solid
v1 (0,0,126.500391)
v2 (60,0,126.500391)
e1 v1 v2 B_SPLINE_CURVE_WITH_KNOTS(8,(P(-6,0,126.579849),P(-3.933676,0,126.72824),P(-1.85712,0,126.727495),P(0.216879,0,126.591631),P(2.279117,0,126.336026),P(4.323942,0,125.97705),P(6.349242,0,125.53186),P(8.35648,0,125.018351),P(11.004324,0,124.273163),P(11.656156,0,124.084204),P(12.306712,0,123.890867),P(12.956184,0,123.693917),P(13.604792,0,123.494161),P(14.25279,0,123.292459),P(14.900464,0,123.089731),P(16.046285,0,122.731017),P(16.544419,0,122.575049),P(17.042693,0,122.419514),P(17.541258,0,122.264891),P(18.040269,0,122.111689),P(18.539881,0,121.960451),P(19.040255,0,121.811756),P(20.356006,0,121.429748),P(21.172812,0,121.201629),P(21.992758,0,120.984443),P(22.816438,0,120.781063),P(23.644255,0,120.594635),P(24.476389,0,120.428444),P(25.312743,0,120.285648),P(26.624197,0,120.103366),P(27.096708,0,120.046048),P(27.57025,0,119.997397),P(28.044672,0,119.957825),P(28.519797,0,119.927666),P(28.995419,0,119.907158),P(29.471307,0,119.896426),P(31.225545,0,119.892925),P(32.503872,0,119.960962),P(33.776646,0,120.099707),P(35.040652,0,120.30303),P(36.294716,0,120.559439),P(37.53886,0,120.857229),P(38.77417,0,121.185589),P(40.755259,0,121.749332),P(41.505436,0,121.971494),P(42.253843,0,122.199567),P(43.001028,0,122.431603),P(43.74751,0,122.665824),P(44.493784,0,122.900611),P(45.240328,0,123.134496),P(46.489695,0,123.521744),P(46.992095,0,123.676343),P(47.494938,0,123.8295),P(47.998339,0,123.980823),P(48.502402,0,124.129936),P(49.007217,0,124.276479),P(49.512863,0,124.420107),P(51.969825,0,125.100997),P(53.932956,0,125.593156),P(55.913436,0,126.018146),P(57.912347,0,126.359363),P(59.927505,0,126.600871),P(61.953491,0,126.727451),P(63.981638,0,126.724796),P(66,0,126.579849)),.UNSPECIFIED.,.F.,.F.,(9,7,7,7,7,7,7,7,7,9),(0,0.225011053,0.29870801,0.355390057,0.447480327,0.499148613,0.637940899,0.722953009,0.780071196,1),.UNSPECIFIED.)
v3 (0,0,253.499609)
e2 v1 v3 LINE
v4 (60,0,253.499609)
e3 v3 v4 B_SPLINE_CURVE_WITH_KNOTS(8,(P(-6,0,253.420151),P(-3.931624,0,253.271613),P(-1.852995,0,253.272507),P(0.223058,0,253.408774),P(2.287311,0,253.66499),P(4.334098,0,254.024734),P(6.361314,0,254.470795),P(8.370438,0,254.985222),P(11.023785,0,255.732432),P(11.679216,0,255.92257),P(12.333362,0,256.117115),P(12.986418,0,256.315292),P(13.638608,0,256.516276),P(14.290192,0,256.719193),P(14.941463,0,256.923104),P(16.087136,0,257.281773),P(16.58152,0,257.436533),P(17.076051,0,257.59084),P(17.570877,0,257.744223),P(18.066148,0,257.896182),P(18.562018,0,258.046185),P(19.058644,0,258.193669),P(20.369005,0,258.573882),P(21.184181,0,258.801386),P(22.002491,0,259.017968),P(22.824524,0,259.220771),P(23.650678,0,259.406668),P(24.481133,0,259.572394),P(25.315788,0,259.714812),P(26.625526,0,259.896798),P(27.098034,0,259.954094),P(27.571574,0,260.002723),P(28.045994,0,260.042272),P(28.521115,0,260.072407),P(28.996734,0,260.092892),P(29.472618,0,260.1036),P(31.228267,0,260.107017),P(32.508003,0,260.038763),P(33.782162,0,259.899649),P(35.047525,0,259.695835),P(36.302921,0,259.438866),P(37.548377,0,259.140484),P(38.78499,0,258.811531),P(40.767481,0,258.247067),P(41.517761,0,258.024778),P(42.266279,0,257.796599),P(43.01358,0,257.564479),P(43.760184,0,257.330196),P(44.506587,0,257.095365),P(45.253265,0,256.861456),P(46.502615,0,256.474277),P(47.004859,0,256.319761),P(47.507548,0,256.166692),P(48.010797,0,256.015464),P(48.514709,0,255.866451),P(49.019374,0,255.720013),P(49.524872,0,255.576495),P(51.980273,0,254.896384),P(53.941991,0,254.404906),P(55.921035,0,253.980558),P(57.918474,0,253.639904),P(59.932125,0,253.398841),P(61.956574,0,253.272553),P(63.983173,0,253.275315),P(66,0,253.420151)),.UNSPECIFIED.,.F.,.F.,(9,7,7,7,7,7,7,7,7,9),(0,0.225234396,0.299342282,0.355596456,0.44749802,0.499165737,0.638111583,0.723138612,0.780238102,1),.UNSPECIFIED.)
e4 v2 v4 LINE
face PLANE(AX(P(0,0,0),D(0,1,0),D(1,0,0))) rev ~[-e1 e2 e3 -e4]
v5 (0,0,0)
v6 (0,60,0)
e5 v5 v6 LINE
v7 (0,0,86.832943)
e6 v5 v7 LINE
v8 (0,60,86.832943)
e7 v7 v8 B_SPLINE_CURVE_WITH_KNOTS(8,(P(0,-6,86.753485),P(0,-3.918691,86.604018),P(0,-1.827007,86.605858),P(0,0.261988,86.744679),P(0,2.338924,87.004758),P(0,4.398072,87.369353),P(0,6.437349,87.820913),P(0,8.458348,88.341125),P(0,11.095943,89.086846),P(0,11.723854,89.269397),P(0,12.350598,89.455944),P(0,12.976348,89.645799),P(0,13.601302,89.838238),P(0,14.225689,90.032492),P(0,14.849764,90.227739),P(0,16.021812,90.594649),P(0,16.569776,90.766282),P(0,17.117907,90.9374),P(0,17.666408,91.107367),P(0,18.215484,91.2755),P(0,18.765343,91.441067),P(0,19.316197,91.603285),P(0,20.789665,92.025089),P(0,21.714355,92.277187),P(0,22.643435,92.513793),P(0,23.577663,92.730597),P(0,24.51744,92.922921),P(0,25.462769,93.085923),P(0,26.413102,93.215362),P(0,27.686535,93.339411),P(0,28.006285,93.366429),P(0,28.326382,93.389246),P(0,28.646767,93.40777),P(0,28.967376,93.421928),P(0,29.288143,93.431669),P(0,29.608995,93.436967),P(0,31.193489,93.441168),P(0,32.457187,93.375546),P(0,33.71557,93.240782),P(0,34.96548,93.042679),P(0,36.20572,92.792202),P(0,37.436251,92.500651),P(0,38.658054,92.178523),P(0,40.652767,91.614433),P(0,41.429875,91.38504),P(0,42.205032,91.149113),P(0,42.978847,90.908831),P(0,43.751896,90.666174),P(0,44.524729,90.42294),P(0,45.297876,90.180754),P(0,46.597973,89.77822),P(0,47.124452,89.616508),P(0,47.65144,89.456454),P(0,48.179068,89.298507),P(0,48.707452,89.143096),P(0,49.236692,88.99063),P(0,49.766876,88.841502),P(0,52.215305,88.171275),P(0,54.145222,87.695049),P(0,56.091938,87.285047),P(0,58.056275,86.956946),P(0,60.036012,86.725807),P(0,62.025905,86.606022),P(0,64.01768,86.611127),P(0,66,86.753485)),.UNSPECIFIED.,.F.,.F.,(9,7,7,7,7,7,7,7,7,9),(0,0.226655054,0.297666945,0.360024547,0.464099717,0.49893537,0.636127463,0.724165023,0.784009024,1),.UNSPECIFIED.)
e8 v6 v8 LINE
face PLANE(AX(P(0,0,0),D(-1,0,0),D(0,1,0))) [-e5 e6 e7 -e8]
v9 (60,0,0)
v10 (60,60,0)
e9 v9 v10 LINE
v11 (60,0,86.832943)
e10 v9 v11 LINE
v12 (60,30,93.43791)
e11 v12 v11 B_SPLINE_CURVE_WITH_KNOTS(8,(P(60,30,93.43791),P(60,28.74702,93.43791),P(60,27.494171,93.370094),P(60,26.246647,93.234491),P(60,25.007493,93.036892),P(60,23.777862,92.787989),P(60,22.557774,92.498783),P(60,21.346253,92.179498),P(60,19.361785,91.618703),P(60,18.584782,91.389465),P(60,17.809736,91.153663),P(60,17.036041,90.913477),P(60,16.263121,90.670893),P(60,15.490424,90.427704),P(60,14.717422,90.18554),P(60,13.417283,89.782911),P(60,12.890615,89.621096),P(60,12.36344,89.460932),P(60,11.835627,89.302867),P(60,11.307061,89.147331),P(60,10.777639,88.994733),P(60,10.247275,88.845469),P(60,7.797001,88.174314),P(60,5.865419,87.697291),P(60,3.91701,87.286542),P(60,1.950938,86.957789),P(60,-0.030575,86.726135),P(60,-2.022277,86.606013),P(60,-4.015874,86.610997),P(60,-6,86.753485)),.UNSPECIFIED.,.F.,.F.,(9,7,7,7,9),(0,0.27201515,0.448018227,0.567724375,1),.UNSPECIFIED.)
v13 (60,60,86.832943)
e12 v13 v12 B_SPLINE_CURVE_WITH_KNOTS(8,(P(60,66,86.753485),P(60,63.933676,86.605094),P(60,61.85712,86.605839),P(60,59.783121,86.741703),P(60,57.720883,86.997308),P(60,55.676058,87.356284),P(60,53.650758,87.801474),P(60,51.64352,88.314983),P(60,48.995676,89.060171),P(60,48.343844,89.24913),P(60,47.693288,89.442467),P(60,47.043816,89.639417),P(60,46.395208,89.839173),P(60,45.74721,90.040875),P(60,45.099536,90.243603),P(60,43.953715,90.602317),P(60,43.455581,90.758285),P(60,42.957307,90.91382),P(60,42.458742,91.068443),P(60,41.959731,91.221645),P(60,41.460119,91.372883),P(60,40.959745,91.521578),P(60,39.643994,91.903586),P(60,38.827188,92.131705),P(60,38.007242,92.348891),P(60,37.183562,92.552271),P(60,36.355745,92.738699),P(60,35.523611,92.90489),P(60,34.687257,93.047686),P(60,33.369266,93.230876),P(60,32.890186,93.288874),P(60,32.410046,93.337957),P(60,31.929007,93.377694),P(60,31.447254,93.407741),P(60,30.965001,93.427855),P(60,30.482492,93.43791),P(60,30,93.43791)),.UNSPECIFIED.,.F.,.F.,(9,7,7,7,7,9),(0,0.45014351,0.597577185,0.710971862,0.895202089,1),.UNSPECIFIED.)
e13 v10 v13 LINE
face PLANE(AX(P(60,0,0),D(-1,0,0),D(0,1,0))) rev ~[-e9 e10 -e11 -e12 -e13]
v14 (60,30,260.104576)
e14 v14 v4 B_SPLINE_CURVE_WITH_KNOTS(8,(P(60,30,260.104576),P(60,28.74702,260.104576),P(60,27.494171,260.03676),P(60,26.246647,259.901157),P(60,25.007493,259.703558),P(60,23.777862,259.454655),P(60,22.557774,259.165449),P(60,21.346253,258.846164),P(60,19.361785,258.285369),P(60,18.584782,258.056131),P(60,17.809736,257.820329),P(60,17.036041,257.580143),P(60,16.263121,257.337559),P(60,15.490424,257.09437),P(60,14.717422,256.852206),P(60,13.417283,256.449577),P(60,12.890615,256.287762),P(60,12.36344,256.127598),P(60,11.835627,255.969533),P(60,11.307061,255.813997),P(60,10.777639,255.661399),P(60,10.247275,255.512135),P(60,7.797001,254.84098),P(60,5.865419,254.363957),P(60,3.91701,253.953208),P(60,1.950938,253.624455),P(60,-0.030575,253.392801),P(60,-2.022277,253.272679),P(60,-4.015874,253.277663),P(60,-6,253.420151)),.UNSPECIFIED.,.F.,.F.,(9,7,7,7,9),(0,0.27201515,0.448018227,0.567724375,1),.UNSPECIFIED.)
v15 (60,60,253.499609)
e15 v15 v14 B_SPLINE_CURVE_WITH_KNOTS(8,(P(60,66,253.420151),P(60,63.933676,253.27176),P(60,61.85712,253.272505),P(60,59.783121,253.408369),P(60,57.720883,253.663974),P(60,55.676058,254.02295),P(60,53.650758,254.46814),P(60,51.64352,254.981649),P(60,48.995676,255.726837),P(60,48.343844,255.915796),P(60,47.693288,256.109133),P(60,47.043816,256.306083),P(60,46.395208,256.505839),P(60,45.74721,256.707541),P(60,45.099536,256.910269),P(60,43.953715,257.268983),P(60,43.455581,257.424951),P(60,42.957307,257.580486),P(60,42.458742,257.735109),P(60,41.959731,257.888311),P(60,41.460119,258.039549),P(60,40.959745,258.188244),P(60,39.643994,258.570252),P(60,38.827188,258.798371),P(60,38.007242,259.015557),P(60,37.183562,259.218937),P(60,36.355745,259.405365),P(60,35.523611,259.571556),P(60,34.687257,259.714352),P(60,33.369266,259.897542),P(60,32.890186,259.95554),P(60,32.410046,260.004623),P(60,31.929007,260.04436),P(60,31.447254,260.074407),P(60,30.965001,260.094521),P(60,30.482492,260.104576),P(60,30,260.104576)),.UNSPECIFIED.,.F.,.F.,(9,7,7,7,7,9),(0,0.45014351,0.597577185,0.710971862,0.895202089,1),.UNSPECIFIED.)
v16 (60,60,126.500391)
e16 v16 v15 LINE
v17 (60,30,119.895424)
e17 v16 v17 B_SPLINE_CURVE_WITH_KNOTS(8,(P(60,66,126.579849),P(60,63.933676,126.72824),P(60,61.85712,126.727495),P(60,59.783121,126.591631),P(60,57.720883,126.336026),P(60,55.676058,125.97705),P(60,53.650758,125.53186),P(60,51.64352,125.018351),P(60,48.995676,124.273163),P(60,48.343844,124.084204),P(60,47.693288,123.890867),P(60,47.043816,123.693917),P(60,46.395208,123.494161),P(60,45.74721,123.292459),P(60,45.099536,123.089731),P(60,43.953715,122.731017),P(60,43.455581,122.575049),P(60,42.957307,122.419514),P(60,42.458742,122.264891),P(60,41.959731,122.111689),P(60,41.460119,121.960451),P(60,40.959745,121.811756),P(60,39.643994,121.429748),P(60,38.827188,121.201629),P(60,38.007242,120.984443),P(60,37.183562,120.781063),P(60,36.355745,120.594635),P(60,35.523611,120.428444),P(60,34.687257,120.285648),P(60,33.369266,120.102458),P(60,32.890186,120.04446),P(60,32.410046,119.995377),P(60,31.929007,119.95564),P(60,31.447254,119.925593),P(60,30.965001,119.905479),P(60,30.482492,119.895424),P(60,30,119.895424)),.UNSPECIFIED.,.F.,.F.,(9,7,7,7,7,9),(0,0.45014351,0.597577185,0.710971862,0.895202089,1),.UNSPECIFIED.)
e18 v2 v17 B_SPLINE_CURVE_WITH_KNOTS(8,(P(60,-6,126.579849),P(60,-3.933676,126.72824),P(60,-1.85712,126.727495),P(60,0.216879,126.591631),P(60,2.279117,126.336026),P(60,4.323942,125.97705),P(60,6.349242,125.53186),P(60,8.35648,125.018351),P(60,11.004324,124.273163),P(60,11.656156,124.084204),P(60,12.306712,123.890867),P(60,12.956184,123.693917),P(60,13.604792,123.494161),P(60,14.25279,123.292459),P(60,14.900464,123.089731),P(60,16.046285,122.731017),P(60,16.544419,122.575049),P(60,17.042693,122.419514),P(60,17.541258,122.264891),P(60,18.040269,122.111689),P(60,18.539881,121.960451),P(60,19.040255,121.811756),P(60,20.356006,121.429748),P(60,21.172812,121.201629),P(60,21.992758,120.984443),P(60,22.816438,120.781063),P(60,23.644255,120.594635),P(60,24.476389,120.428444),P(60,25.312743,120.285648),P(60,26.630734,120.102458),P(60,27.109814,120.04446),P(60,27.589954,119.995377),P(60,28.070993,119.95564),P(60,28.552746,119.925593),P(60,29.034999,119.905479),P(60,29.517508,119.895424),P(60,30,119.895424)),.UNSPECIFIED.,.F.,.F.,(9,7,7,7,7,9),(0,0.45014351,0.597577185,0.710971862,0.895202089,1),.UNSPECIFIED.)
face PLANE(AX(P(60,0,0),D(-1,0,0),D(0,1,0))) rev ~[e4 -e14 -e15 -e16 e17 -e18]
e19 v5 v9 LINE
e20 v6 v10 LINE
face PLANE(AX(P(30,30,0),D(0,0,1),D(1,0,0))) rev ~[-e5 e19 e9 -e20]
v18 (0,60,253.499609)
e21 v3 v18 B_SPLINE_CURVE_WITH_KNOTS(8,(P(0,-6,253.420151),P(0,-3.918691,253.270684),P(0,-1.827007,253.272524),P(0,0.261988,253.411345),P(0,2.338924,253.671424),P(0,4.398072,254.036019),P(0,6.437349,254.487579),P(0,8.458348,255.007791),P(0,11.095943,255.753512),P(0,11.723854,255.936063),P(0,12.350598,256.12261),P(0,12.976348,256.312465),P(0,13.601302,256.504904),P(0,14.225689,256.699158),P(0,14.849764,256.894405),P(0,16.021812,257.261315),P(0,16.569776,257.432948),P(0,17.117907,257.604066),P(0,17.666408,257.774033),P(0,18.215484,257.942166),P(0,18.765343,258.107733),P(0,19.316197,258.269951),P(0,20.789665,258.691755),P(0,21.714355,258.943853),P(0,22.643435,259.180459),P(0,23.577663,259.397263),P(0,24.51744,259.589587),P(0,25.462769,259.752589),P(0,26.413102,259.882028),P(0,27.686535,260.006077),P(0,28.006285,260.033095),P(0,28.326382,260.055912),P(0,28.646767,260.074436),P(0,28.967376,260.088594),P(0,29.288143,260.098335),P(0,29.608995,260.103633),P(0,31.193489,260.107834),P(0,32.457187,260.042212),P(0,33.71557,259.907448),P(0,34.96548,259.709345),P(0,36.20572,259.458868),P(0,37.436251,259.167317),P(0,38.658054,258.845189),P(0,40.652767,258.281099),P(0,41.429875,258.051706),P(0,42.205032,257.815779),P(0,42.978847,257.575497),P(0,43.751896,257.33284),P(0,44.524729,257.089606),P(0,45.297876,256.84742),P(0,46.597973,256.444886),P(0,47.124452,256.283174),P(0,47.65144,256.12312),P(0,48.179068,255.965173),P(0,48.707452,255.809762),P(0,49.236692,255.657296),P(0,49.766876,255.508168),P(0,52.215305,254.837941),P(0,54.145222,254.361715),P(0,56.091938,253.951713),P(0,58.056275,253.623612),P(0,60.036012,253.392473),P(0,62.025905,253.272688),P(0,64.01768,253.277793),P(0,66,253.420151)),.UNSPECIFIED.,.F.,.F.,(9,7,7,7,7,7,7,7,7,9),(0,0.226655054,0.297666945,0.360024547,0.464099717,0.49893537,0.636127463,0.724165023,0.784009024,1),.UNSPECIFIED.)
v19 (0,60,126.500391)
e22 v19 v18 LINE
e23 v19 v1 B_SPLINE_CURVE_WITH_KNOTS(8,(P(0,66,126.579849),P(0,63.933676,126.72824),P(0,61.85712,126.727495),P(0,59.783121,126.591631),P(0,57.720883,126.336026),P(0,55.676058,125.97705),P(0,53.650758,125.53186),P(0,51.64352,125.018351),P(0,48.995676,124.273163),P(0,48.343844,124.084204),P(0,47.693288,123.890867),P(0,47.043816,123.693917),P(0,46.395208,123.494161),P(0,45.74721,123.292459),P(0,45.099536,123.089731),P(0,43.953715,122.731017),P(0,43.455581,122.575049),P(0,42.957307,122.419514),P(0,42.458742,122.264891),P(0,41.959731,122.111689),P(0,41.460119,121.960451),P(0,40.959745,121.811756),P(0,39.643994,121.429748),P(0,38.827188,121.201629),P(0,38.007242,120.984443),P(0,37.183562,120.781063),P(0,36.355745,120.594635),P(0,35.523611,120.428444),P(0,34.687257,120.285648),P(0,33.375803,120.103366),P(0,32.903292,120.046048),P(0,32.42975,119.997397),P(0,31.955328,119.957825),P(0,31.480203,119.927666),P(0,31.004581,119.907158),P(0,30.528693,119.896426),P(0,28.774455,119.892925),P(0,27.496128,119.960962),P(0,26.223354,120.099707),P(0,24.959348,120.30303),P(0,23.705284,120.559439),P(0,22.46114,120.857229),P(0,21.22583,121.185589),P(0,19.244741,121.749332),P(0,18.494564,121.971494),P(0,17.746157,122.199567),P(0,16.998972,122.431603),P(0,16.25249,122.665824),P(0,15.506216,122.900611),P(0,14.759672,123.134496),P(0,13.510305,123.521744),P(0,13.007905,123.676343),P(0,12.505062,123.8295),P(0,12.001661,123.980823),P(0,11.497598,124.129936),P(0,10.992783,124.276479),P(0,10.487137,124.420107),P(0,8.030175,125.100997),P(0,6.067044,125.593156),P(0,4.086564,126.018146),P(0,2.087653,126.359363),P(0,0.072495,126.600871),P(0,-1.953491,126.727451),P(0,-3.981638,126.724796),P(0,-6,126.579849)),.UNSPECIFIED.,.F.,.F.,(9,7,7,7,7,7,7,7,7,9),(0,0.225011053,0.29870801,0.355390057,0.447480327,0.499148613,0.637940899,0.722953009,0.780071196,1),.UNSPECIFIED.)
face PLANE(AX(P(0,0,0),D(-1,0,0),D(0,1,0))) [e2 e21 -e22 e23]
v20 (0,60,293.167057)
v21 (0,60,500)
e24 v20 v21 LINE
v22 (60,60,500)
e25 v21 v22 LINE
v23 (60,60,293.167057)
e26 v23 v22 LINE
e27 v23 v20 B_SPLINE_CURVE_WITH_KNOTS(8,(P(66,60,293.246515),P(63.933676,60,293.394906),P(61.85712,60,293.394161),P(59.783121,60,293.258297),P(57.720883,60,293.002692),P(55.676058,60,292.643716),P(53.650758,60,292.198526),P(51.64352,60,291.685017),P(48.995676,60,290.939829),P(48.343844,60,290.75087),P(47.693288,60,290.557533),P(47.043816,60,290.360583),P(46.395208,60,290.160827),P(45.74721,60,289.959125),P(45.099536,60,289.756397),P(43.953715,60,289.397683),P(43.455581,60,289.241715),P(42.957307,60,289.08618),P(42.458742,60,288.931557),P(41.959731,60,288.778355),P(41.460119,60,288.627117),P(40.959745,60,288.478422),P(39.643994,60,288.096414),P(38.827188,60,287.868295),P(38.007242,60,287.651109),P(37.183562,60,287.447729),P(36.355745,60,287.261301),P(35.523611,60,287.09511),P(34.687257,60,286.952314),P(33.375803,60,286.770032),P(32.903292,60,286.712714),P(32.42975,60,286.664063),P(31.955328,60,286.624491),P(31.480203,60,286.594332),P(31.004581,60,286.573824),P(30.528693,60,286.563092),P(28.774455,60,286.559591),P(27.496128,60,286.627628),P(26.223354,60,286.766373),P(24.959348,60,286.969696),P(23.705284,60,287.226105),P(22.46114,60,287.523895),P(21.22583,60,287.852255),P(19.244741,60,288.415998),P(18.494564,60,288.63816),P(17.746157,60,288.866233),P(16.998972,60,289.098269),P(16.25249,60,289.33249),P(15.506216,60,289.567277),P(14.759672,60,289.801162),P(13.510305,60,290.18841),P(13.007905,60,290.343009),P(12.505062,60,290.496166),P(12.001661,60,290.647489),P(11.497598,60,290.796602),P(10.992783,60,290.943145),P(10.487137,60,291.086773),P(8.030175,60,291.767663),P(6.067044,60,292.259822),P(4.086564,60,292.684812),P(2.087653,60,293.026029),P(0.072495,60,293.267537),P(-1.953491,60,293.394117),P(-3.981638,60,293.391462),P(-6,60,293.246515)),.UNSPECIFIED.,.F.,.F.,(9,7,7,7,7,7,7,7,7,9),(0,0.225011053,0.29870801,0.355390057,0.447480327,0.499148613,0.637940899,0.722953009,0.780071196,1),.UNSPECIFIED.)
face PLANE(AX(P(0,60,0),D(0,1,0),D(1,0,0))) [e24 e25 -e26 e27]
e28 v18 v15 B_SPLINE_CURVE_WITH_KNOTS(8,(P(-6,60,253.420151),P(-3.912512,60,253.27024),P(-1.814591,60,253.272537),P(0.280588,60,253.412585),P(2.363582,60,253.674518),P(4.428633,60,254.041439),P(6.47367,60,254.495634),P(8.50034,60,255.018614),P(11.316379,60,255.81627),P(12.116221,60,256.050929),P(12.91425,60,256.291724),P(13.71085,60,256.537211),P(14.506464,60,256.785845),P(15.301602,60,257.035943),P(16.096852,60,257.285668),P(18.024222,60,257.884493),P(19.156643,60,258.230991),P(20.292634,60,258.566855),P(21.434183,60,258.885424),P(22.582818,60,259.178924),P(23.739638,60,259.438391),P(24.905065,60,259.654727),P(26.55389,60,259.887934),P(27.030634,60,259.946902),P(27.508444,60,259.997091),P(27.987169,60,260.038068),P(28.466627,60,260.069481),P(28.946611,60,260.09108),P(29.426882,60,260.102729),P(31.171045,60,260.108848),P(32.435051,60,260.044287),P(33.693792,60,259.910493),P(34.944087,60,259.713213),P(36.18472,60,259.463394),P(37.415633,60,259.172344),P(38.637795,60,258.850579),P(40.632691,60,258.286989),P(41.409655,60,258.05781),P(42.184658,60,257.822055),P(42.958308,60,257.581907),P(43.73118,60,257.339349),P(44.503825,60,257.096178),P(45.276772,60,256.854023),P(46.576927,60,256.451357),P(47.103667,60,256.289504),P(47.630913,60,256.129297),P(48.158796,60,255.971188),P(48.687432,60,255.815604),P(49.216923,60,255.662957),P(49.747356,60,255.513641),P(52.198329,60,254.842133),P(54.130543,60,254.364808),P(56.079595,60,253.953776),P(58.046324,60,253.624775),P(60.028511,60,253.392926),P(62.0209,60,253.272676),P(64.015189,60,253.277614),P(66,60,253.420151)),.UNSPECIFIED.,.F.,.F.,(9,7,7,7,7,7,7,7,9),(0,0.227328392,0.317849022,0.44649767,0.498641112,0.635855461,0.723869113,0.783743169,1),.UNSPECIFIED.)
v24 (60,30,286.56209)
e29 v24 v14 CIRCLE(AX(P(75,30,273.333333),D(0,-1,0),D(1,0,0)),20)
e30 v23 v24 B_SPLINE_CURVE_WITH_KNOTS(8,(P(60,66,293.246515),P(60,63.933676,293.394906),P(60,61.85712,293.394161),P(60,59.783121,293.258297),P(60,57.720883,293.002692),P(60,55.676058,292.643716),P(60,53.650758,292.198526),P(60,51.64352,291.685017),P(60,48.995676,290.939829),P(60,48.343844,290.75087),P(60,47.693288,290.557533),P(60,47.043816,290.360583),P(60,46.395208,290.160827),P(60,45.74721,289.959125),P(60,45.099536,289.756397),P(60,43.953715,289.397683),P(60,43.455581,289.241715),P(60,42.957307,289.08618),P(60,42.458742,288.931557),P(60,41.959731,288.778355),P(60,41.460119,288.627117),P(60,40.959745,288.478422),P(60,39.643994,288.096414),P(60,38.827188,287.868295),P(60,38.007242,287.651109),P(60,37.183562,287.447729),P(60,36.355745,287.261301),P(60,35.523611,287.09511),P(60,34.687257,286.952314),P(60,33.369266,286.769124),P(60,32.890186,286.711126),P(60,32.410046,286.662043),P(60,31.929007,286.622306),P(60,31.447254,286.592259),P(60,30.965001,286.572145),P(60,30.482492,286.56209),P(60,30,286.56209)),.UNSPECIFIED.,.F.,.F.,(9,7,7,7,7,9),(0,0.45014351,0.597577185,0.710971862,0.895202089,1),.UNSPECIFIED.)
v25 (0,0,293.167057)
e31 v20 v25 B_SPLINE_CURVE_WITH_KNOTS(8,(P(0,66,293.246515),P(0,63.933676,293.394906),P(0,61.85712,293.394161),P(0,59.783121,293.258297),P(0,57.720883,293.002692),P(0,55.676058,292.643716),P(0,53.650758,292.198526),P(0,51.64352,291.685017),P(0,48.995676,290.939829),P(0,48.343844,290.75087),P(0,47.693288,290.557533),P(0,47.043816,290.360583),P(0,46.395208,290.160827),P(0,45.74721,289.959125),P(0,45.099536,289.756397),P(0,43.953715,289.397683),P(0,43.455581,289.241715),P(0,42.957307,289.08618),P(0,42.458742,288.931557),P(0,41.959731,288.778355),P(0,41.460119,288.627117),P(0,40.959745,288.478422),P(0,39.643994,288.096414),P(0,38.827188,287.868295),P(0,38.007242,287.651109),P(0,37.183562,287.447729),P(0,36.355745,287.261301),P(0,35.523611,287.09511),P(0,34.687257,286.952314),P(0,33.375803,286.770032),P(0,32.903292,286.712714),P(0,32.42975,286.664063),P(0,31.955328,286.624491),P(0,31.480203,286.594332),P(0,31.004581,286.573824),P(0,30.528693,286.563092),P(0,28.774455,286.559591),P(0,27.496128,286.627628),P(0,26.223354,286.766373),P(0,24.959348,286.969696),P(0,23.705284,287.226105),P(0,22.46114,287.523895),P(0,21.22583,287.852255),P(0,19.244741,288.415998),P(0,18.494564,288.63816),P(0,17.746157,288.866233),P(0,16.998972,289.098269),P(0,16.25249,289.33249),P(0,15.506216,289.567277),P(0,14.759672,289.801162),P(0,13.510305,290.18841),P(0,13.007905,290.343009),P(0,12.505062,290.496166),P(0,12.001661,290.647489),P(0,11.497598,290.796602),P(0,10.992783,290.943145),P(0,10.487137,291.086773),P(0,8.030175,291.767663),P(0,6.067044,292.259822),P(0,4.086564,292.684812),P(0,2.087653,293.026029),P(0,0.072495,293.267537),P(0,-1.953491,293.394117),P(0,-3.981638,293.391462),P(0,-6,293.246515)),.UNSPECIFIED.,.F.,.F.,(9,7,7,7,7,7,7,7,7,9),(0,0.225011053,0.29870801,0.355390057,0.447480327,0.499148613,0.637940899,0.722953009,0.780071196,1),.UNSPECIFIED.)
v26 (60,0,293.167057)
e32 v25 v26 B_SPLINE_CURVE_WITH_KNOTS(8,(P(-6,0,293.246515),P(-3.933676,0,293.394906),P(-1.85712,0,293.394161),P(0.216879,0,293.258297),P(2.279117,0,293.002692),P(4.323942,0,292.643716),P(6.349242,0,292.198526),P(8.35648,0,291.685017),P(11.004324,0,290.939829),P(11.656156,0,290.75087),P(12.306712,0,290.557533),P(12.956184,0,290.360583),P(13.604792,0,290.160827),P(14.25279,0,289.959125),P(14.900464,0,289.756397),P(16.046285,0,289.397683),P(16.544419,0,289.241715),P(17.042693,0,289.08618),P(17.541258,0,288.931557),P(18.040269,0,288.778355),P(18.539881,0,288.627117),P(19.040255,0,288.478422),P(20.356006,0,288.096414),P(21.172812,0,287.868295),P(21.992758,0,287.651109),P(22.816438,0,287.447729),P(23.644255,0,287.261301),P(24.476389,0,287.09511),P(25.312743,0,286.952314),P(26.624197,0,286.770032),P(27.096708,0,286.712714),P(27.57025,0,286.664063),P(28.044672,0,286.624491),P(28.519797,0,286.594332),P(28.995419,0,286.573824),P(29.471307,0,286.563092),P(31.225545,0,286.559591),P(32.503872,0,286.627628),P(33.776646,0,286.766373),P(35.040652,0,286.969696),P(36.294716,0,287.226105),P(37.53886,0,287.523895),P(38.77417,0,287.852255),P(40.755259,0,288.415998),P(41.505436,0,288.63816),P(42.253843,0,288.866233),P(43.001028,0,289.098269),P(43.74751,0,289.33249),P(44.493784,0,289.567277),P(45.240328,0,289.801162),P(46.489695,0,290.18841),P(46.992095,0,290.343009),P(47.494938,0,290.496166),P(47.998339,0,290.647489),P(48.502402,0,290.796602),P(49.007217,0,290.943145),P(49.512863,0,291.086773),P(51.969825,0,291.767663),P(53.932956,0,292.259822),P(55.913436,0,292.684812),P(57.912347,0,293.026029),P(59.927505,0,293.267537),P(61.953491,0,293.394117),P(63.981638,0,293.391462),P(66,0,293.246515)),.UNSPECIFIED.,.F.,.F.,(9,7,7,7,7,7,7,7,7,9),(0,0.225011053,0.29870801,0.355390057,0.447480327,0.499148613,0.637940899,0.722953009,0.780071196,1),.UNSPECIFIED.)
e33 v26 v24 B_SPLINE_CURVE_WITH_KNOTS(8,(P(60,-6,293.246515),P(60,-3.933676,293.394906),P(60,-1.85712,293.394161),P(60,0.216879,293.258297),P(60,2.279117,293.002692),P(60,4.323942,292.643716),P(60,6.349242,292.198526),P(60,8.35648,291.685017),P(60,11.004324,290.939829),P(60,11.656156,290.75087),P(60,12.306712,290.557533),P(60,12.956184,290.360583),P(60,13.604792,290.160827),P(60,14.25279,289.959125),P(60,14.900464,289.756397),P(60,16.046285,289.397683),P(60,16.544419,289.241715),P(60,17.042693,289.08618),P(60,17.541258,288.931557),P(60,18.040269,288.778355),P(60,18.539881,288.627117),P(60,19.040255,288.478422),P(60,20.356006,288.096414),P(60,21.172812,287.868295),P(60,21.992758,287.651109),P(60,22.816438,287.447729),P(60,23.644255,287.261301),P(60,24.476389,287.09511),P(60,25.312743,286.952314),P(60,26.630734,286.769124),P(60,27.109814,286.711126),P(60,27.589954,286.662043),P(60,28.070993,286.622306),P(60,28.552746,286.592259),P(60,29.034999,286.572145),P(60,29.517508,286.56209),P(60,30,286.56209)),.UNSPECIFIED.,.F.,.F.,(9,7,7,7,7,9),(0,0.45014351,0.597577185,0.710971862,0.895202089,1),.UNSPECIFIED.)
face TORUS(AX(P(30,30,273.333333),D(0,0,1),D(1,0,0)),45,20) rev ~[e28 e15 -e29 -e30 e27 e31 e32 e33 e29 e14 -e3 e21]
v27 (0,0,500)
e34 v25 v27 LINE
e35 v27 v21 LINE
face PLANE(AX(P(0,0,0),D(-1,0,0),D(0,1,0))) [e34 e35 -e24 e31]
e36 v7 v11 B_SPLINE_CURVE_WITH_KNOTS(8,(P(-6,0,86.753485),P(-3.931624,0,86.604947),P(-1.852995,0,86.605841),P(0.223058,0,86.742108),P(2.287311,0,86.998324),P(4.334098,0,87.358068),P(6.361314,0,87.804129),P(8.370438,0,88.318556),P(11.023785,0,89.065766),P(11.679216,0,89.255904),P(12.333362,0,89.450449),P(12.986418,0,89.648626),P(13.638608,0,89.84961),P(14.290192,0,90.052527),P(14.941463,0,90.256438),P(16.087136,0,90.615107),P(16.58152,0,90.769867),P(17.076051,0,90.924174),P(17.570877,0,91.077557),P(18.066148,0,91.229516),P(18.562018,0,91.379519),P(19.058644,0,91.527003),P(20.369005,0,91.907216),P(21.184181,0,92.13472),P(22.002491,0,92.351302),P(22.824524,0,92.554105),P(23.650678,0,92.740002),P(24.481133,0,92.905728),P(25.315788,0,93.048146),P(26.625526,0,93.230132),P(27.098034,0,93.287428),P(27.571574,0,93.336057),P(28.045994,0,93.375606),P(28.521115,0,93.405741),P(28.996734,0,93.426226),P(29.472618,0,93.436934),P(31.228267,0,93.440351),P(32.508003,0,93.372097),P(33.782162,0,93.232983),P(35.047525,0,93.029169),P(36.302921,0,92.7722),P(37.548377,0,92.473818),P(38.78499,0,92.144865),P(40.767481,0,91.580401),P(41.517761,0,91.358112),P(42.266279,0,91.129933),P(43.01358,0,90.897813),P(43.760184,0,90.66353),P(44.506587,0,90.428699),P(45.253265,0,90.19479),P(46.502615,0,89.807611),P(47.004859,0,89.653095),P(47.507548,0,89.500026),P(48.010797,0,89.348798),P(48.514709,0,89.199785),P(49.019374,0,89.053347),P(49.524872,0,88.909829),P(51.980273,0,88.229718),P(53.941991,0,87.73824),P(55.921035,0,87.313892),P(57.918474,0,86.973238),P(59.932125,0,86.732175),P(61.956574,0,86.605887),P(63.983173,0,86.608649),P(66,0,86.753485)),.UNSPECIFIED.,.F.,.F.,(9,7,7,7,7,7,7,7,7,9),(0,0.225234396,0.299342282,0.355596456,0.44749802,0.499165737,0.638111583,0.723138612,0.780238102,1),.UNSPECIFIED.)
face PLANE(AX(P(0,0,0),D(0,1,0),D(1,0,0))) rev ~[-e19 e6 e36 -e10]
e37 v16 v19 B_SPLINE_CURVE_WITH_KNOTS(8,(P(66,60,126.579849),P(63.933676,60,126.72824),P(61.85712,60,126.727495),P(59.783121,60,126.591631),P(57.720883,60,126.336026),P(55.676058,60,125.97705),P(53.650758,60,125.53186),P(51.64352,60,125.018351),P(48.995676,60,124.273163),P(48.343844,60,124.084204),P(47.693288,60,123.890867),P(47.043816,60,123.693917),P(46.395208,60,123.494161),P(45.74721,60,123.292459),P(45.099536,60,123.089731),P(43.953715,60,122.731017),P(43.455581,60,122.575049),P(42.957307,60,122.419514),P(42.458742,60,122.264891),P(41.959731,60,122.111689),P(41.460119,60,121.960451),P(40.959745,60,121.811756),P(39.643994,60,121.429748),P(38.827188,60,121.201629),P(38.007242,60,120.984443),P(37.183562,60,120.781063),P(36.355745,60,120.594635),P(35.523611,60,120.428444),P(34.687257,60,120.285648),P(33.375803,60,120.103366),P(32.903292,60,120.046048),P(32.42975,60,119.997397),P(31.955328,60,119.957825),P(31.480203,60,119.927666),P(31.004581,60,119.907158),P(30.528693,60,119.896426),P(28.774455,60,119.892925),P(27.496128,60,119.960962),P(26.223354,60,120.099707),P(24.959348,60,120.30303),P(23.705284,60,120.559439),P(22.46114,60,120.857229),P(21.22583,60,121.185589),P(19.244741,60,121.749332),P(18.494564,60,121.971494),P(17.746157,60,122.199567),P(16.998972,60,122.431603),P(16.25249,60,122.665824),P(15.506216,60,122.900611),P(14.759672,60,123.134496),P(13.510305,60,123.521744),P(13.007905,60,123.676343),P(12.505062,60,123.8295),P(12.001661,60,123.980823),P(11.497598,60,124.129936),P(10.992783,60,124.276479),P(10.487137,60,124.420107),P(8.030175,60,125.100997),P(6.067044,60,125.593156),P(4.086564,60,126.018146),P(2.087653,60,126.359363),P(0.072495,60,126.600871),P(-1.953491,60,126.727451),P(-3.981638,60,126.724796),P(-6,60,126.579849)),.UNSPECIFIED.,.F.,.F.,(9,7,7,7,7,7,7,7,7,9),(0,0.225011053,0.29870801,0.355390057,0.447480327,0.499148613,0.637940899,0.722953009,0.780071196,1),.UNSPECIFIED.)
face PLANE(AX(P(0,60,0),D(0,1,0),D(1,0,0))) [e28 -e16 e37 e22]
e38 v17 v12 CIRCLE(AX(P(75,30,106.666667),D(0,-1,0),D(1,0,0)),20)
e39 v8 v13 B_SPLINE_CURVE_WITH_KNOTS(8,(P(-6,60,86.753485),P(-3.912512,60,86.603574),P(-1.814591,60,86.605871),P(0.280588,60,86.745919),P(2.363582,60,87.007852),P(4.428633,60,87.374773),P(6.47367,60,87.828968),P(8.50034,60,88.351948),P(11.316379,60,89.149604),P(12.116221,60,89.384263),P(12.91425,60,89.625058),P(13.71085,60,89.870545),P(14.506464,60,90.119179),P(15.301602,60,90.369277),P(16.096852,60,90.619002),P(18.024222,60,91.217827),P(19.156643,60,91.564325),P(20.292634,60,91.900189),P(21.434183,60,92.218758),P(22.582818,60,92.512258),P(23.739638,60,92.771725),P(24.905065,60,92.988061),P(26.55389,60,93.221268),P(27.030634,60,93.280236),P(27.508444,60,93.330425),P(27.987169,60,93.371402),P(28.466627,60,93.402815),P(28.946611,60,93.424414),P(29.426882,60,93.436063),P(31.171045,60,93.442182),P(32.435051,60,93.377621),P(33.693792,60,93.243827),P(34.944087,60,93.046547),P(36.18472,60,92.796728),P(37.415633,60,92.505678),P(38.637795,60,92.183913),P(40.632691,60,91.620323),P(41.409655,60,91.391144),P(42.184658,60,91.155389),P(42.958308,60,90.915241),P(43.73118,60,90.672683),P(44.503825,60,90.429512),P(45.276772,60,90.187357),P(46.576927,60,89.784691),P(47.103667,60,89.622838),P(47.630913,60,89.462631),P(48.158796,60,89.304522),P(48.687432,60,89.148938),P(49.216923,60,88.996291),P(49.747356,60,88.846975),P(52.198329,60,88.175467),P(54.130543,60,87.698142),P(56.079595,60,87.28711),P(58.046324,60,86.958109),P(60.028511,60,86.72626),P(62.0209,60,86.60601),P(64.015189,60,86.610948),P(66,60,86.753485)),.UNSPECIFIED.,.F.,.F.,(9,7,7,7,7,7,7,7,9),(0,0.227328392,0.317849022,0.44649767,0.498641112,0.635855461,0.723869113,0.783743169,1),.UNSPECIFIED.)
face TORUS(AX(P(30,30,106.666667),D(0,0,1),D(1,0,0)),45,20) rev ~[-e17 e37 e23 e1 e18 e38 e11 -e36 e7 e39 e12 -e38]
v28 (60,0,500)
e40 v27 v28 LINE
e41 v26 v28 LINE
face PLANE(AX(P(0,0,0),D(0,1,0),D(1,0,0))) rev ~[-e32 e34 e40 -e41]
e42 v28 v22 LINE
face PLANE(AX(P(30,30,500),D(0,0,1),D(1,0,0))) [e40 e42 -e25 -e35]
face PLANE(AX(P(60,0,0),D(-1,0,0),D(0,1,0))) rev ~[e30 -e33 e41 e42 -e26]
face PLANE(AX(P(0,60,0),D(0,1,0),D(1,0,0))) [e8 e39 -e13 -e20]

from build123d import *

# Parameters (mm, degrees)
TORUS005_R   = 20
TORUS001_R   = 20
SKETCH001_W  = 60
SKETCH001_H  = 60
PAD001_DEPTH = 500


with BuildPart() as torus005:
    # Torus005 → Torus005 (revolve)
    with BuildSketch(Plane(origin=(30, 30, 273.333333), x_dir=(1, 0, 0), z_dir=(0, -1, 0))):
        with Locations((45, 0)):
            Circle(TORUS005_R)
    revolve(axis=Axis((30, 30, 273.333333), (0, 0, 1)))


with BuildPart() as torus001:
    # Torus001 → Torus001 (revolve)
    with BuildSketch(Plane(origin=(30, 30, 106.666667), x_dir=(1, 0, 0), z_dir=(0, -1, 0))):
        with Locations((45, 0)):
            Circle(TORUS001_R)
    revolve(axis=Axis((30, 30, 106.666667), (0, 0, 1)))


with BuildPart() as cut001:
    # Sketch001 → Pad001 (new body)
    with BuildSketch(Plane.XY):
        with Locations((30, 30)):
            Rectangle(SKETCH001_W, SKETCH001_H)
    extrude(amount=PAD001_DEPTH)

    # Cut: cut Torus001
    add(torus001.part, mode=Mode.SUBTRACT)

    # Cut001: cut Torus005
    add(torus005.part, mode=Mode.SUBTRACT)


solid = cut001.part
